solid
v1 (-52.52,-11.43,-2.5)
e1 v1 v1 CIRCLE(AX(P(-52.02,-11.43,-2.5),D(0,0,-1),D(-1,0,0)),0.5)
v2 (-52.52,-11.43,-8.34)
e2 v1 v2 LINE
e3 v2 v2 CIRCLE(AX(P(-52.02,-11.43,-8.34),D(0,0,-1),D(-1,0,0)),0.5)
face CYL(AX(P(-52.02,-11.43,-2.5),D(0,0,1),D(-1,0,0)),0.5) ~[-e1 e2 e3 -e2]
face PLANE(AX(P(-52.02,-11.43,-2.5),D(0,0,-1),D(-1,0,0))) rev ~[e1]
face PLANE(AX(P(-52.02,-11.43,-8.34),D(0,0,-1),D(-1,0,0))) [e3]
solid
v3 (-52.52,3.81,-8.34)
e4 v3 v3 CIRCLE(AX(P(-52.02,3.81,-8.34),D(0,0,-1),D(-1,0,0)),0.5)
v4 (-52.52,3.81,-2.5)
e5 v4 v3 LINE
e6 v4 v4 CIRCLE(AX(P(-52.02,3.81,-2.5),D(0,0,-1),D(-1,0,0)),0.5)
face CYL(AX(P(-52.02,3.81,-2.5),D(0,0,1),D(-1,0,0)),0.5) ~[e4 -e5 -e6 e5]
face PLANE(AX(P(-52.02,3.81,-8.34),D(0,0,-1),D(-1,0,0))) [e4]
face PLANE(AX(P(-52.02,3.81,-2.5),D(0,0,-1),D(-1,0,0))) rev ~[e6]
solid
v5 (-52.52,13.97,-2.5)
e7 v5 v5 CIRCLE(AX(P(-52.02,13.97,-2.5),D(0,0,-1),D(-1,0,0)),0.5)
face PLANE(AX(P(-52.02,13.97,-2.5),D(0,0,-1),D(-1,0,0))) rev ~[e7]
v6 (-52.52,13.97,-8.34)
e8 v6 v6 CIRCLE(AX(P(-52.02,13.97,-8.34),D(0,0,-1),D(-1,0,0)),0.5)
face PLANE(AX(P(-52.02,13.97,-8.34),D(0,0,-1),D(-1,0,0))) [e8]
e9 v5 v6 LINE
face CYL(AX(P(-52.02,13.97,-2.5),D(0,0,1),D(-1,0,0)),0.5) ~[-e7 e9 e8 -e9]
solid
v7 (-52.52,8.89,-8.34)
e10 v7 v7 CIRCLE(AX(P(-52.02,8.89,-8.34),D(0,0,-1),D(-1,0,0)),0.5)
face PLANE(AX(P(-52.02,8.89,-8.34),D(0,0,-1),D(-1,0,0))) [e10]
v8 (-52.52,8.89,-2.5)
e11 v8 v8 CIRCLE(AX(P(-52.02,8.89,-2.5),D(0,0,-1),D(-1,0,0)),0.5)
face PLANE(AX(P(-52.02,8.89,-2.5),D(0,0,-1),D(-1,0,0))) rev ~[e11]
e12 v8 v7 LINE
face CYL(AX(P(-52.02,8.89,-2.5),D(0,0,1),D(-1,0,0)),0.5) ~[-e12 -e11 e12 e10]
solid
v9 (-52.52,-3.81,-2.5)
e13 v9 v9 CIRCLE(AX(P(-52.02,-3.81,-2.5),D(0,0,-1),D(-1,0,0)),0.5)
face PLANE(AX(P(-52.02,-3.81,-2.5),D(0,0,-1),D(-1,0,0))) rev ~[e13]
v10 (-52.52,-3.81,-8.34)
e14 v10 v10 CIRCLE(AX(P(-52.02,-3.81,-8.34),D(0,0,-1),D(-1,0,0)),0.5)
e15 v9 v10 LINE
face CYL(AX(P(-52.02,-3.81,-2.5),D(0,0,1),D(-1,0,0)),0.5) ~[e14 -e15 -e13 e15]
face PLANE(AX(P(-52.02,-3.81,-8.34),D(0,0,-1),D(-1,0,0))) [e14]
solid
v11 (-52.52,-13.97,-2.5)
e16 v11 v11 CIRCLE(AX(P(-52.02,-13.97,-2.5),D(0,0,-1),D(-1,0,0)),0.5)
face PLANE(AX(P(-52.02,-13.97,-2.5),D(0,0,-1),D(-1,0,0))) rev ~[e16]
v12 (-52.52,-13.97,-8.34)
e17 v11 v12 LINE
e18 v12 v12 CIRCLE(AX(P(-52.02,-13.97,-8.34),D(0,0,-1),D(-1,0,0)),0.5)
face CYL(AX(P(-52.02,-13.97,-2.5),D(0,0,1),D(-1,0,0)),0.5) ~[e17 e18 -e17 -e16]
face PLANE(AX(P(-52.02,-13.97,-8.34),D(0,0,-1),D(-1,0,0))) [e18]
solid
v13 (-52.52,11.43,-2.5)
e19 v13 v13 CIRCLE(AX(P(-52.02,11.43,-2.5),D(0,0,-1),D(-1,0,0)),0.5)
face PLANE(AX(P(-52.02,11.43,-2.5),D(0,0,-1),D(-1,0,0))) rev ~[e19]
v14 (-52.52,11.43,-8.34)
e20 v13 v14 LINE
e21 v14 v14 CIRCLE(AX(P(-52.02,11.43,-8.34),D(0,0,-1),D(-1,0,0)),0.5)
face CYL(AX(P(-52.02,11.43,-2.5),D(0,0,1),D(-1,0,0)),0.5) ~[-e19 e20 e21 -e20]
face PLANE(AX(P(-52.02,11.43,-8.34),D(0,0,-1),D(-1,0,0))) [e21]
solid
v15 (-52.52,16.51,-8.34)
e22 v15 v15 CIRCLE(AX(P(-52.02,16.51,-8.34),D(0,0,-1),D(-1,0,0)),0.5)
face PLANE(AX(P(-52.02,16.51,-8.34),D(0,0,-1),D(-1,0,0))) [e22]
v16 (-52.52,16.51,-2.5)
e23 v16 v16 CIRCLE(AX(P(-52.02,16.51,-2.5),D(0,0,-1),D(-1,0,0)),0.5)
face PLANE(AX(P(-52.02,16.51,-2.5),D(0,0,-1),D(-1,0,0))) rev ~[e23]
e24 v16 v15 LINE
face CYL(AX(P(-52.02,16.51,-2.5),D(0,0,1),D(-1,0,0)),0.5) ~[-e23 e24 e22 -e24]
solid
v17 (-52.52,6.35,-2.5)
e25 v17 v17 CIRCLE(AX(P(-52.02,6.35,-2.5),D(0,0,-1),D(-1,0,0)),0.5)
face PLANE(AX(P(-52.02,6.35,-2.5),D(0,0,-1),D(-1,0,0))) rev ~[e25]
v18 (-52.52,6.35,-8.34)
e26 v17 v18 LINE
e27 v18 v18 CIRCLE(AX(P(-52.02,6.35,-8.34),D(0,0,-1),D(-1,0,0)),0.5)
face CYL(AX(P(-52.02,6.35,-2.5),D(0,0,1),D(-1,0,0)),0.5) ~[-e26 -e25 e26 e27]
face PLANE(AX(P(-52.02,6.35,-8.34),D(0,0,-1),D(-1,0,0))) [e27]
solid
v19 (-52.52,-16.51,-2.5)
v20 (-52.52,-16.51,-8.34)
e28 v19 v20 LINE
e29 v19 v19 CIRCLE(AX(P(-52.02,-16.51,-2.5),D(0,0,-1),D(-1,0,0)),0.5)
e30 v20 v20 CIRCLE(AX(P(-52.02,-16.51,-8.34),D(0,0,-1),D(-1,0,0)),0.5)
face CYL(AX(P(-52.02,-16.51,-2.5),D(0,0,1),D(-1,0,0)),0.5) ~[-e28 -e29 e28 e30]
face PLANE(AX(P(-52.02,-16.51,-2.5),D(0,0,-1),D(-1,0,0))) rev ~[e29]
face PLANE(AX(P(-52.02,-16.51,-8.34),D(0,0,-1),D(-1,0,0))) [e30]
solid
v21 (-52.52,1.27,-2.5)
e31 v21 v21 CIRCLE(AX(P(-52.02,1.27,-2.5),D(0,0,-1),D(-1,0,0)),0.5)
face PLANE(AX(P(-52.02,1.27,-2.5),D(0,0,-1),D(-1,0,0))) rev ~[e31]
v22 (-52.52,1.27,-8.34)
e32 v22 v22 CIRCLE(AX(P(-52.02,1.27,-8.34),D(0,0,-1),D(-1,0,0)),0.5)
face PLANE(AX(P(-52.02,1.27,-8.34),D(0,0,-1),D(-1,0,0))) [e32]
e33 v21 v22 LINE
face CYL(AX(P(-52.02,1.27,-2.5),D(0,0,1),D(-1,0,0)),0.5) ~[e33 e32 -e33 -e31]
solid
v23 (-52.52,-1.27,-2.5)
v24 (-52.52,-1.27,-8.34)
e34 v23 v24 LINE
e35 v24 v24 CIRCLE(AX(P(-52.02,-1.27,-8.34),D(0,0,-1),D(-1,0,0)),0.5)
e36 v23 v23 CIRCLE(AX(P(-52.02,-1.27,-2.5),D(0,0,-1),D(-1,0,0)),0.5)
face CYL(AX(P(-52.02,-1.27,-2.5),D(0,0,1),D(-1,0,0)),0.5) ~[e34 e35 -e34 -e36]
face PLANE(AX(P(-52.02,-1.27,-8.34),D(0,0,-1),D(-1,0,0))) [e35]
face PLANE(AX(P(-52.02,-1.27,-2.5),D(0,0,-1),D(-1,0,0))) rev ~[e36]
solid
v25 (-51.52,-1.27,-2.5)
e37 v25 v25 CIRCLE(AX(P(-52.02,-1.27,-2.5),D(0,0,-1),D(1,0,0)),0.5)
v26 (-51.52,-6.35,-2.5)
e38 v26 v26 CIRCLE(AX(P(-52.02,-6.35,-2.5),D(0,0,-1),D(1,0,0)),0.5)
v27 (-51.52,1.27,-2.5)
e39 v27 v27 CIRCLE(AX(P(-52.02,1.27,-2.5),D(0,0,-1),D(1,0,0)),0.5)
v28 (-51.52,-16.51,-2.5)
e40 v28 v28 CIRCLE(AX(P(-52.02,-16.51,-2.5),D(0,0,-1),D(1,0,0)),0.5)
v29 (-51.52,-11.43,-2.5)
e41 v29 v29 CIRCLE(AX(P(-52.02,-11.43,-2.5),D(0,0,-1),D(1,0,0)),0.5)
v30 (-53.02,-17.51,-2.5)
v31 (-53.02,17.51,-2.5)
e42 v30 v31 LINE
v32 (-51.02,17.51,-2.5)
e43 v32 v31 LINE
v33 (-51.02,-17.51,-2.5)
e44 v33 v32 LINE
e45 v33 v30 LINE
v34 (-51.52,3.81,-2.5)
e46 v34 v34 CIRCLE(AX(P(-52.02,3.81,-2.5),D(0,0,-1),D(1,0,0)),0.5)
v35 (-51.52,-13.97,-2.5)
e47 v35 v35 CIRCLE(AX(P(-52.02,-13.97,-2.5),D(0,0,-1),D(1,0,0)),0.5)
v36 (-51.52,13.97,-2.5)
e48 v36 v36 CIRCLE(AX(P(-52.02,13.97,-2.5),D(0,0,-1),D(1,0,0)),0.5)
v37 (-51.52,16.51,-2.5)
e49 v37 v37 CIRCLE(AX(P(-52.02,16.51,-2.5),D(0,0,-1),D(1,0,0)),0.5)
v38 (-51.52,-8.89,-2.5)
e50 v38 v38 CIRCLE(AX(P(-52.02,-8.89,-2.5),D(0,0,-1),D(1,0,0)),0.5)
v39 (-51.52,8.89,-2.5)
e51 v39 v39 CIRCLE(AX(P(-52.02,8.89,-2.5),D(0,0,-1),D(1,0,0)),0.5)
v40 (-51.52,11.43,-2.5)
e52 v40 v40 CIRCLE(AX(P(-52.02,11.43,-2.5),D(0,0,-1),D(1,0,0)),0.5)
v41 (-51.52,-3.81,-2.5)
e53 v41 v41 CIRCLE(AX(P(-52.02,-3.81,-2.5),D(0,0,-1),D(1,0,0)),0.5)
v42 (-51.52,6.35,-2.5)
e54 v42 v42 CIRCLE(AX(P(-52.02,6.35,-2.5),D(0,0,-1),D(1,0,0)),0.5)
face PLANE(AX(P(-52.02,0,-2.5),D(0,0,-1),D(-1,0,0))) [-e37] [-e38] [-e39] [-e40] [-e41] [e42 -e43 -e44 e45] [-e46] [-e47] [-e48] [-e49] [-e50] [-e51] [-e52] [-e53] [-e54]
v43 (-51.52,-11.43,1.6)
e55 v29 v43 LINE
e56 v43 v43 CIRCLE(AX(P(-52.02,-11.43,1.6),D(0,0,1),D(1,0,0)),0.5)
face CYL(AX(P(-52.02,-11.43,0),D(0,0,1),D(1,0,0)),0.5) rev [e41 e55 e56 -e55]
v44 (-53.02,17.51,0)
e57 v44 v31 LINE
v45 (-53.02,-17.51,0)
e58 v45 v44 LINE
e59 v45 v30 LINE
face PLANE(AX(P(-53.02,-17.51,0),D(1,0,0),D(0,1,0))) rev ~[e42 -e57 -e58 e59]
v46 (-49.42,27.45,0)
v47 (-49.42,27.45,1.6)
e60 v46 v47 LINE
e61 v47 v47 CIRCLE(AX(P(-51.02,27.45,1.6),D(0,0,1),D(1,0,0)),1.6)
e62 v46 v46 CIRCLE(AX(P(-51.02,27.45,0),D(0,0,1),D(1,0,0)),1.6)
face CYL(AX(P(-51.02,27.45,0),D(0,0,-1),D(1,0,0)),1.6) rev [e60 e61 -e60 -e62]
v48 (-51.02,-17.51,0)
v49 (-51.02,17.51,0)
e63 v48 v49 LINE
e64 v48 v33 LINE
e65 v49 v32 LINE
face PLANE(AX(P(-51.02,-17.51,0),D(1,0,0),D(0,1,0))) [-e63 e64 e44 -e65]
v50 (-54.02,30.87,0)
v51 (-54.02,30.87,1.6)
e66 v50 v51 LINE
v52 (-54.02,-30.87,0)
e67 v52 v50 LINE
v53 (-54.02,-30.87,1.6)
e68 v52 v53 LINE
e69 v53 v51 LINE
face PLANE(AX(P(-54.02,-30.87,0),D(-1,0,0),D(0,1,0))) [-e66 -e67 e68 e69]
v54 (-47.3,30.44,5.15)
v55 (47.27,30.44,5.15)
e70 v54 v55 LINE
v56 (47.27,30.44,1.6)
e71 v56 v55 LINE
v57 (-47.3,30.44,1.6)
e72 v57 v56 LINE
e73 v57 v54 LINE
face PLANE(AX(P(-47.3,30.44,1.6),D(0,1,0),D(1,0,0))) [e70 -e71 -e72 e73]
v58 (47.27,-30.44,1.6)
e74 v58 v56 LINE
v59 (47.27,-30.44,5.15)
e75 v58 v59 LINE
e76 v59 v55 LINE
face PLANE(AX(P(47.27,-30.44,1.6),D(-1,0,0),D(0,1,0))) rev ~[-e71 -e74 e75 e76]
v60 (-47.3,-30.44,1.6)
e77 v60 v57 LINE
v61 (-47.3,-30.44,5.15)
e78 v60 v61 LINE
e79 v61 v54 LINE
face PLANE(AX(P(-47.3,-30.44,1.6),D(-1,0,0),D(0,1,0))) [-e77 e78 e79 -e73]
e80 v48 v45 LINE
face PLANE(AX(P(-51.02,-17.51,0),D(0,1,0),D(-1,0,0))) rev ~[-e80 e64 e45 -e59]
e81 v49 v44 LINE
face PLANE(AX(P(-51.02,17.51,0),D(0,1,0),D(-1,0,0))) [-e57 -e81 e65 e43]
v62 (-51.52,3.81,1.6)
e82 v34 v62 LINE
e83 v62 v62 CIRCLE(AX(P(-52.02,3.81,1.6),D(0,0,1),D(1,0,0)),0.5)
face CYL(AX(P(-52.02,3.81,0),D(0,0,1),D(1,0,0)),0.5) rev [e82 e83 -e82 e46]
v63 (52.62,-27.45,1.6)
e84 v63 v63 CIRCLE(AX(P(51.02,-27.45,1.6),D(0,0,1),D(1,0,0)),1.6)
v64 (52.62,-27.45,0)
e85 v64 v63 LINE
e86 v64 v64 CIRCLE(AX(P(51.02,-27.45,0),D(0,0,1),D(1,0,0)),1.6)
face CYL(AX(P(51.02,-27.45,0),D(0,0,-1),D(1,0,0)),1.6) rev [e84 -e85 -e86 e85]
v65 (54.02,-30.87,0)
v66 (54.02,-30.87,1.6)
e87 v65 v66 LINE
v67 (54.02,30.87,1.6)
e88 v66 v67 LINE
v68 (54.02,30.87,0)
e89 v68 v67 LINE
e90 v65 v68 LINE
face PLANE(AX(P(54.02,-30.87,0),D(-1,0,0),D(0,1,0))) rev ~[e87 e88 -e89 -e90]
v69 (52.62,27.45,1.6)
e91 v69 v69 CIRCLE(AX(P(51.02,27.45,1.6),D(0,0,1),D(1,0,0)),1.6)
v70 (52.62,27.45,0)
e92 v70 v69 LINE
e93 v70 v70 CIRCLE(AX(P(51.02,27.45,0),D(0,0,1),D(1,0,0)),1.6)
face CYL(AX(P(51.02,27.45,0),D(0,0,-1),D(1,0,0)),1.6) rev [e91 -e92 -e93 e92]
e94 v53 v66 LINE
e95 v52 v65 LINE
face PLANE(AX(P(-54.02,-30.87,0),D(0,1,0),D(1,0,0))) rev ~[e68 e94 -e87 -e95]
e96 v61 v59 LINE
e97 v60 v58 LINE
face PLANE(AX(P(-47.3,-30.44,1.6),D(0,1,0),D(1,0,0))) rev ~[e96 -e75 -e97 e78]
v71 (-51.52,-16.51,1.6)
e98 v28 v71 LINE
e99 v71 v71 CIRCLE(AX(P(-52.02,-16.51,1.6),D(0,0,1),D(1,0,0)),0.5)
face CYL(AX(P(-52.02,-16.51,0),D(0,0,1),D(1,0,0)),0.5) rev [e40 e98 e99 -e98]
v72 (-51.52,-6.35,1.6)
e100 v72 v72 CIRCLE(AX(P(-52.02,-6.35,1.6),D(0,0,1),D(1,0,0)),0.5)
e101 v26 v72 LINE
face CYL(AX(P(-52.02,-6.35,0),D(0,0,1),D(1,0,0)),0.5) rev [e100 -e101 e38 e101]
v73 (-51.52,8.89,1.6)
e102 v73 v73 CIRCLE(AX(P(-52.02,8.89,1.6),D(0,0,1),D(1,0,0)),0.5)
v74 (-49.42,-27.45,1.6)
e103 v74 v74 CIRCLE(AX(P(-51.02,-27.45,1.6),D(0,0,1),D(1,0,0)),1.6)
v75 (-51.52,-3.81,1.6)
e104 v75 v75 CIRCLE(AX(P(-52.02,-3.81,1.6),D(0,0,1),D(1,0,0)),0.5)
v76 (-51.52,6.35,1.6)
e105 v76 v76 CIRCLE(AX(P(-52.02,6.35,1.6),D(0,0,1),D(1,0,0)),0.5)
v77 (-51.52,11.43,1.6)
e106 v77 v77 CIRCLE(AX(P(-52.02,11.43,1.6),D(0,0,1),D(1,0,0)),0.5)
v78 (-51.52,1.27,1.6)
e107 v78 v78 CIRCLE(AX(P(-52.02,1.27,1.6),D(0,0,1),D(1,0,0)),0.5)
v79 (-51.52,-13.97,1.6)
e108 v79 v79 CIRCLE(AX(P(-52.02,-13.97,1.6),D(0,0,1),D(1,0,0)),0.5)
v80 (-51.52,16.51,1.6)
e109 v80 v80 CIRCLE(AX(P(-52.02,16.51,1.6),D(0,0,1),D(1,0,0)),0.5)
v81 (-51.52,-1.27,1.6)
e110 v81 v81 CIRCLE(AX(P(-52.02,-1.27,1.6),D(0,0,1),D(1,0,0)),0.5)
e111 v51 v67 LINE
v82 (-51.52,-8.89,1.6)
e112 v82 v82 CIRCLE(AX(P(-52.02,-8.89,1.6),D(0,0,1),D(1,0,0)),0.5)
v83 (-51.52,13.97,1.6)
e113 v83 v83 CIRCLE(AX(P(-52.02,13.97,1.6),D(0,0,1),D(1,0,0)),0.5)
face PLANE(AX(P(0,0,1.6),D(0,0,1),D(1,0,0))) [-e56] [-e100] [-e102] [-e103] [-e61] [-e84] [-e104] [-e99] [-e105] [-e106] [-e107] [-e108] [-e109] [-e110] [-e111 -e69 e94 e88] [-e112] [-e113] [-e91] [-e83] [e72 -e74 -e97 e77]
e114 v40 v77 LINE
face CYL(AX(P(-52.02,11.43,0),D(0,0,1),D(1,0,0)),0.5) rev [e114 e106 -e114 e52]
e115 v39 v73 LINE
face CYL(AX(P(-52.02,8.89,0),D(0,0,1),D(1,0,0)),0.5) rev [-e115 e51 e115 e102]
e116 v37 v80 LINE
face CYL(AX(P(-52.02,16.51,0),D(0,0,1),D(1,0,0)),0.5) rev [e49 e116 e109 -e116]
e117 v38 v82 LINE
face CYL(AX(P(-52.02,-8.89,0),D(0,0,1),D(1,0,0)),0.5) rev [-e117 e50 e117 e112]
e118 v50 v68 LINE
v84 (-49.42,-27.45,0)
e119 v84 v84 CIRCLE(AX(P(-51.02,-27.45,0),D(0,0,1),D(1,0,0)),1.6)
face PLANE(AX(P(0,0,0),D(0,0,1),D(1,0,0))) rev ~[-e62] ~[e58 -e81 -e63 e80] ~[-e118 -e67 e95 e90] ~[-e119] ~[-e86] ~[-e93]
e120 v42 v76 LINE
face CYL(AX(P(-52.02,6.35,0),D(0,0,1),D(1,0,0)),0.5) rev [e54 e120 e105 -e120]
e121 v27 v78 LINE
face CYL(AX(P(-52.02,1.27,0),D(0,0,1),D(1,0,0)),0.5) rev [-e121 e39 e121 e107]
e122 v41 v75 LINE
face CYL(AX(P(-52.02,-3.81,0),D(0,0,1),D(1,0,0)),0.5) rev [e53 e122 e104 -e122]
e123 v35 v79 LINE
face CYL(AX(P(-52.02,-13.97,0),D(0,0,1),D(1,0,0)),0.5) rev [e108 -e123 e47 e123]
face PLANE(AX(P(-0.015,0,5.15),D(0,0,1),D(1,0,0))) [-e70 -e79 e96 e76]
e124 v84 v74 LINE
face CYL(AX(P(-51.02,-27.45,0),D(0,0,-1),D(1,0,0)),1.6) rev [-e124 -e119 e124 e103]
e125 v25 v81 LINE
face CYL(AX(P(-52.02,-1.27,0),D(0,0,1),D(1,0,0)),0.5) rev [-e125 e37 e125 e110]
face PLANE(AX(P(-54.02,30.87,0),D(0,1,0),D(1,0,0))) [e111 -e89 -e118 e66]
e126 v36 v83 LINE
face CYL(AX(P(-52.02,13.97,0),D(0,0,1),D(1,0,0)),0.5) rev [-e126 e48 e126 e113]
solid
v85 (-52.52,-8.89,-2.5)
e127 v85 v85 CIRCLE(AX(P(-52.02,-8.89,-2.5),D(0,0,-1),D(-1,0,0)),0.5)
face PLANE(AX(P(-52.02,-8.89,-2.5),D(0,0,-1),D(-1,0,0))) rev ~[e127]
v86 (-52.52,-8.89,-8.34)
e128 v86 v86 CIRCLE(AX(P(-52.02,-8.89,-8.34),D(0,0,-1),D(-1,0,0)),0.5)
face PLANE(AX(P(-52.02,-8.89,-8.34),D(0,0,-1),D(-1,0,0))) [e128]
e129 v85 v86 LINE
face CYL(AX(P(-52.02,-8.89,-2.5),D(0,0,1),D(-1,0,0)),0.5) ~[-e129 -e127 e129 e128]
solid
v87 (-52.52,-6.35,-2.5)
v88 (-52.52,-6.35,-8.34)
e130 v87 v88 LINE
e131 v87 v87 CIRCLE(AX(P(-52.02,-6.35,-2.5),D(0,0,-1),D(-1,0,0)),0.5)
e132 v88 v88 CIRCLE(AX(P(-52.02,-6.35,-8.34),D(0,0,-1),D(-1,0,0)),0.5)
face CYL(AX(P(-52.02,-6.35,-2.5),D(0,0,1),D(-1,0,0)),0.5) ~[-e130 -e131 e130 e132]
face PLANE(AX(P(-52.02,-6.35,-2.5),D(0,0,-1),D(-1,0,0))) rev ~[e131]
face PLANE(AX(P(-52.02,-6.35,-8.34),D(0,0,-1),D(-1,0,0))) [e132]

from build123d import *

# Parameters (mm, degrees)
SKETCH1_W              = 108.04
SKETCH1_H              = 61.74
SKETCH1_R              = 1.6
BOSS_EXTRUDE1_DEPTH    = 1.6
SKETCH2_W              = 94.57
SKETCH2_H              = 60.88
BOSS_EXTRUDE2_DEPTH    = 3.55
SKETCH3_R              = 0.5
CUT_EXTRUDE1_DEPTH     = 3.55
SKETCH4_W              = 2
SKETCH4_H              = 35.02
SKETCH4_R              = 0.5
BOSS_EXTRUDE3_DEPTH    = 2.5
SKETCH5_R              = 0.5
BOSS_EXTRUDE4_DEPTH    = 5.84
BOSS_EXTRUDE4_2_DEPTH  = 5.84
BOSS_EXTRUDE4_3_DEPTH  = 5.84
BOSS_EXTRUDE4_4_DEPTH  = 5.84
BOSS_EXTRUDE4_5_DEPTH  = 5.84
BOSS_EXTRUDE4_6_DEPTH  = 5.84
BOSS_EXTRUDE4_7_DEPTH  = 5.84
BOSS_EXTRUDE4_8_DEPTH  = 5.84
BOSS_EXTRUDE4_9_DEPTH  = 5.84
BOSS_EXTRUDE4_10_DEPTH = 5.84
BOSS_EXTRUDE4_11_DEPTH = 5.84
BOSS_EXTRUDE4_12_DEPTH = 5.84
BOSS_EXTRUDE4_13_DEPTH = 5.84
BOSS_EXTRUDE4_14_DEPTH = 5.84


with BuildPart() as part:
    # Sketch1 → Boss-Extrude1 (new body)
    with BuildSketch(Plane.XY):
        Rectangle(SKETCH1_W, SKETCH1_H)
        with Locations((-51.02, 27.45)):
            Circle(SKETCH1_R, mode=Mode.SUBTRACT)
        with Locations((-51.02, -27.45)):
            Circle(SKETCH1_R, mode=Mode.SUBTRACT)
        with Locations((51.02, -27.45)):
            Circle(SKETCH1_R, mode=Mode.SUBTRACT)
        with Locations((51.02, 27.45)):
            Circle(SKETCH1_R, mode=Mode.SUBTRACT)
    extrude(amount=BOSS_EXTRUDE1_DEPTH)

    # Sketch2 → Boss-Extrude2 (add)
    with BuildSketch(Plane.XY.offset(1.6)):
        with Locations((-0.015, 0)):
            Rectangle(SKETCH2_W, SKETCH2_H)
    extrude(amount=BOSS_EXTRUDE2_DEPTH)

    # Sketch3 → Cut-Extrude1 (cut)
    with BuildSketch(Plane.XY.offset(1.6)):
        with Locations((-52.02, 16.51)):
            Circle(SKETCH3_R)
        with Locations((-52.02, 13.97)):
            Circle(SKETCH3_R)
        with Locations((-52.02, 11.43)):
            Circle(SKETCH3_R)
        with Locations((-52.02, 8.89)):
            Circle(SKETCH3_R)
        with Locations((-52.02, 6.35)):
            Circle(SKETCH3_R)
        with Locations((-52.02, 3.81)):
            Circle(SKETCH3_R)
        with Locations((-52.02, 1.27)):
            Circle(SKETCH3_R)
        with Locations((-52.02, -1.27)):
            Circle(SKETCH3_R)
        with Locations((-52.02, -3.81)):
            Circle(SKETCH3_R)
        with Locations((-52.02, -6.35)):
            Circle(SKETCH3_R)
        with Locations((-52.02, -8.89)):
            Circle(SKETCH3_R)
        with Locations((-52.02, -11.43)):
            Circle(SKETCH3_R)
        with Locations((-52.02, -13.97)):
            Circle(SKETCH3_R)
        with Locations((-52.02, -16.51)):
            Circle(SKETCH3_R)
    extrude(amount=-CUT_EXTRUDE1_DEPTH, mode=Mode.SUBTRACT)

    # Sketch4 → Boss-Extrude3 (add)
    with BuildSketch(Plane(origin=(0, 0, 0), x_dir=(-1, 0, 0), z_dir=(0, 0, -1))):
        with Locations((52.02, 0)):
            Rectangle(SKETCH4_W, SKETCH4_H)
        with Locations(Location((52.02, 13.97, 0), (0, 0, 180))):
            Circle(SKETCH4_R, mode=Mode.SUBTRACT)
        with Locations(Location((52.02, 8.89, 0), (0, 0, 180))):
            Circle(SKETCH4_R, mode=Mode.SUBTRACT)
        with Locations(Location((52.02, 3.81, 0), (0, 0, 180))):
            Circle(SKETCH4_R, mode=Mode.SUBTRACT)
        with Locations(Location((52.02, -1.27, 0), (0, 0, 180))):
            Circle(SKETCH4_R, mode=Mode.SUBTRACT)
        with Locations(Location((52.02, -6.35, 0), (0, 0, 180))):
            Circle(SKETCH4_R, mode=Mode.SUBTRACT)
        with Locations(Location((52.02, -11.43, 0), (0, 0, 180))):
            Circle(SKETCH4_R, mode=Mode.SUBTRACT)
        with Locations(Location((52.02, -16.51, 0), (0, 0, 180))):
            Circle(SKETCH4_R, mode=Mode.SUBTRACT)
        with Locations(Location((52.02, -13.97, 0), (0, 0, 180))):
            Circle(SKETCH4_R, mode=Mode.SUBTRACT)
        with Locations(Location((52.02, -8.89, 0), (0, 0, 180))):
            Circle(SKETCH4_R, mode=Mode.SUBTRACT)
        with Locations(Location((52.02, -3.81, 0), (0, 0, 180))):
            Circle(SKETCH4_R, mode=Mode.SUBTRACT)
        with Locations(Location((52.02, 1.27, 0), (0, 0, 180))):
            Circle(SKETCH4_R, mode=Mode.SUBTRACT)
        with Locations(Location((52.02, 6.35, 0), (0, 0, 180))):
            Circle(SKETCH4_R, mode=Mode.SUBTRACT)
        with Locations(Location((52.02, 11.43, 0), (0, 0, 180))):
            Circle(SKETCH4_R, mode=Mode.SUBTRACT)
        with Locations(Location((52.02, 16.51, 0), (0, 0, 180))):
            Circle(SKETCH4_R, mode=Mode.SUBTRACT)
    extrude(amount=BOSS_EXTRUDE3_DEPTH)


with BuildPart() as body_2:
    # Sketch5 → Boss-Extrude4 (new body)
    with BuildSketch(Plane(origin=(0, 0, -2.5), x_dir=(-1, 0, 0), z_dir=(0, 0, -1))):
        with Locations((52.02, -16.51)):
            Circle(SKETCH5_R)
    extrude(amount=BOSS_EXTRUDE4_DEPTH)


with BuildPart() as body_3:
    # Sketch5 → Boss-Extrude4 2 (new body)
    with BuildSketch(Plane(origin=(0, 0, -2.5), x_dir=(-1, 0, 0), z_dir=(0, 0, -1))):
        with Locations((52.02, -13.97)):
            Circle(SKETCH5_R)
    extrude(amount=BOSS_EXTRUDE4_2_DEPTH)


with BuildPart() as body_4:
    # Sketch5 → Boss-Extrude4 3 (new body)
    with BuildSketch(Plane(origin=(0, 0, -2.5), x_dir=(-1, 0, 0), z_dir=(0, 0, -1))):
        with Locations((52.02, -11.43)):
            Circle(SKETCH5_R)
    extrude(amount=BOSS_EXTRUDE4_3_DEPTH)


with BuildPart() as body_5:
    # Sketch5 → Boss-Extrude4 4 (new body)
    with BuildSketch(Plane(origin=(0, 0, -2.5), x_dir=(-1, 0, 0), z_dir=(0, 0, -1))):
        with Locations((52.02, -8.89)):
            Circle(SKETCH5_R)
    extrude(amount=BOSS_EXTRUDE4_4_DEPTH)


with BuildPart() as body_6:
    # Sketch5 → Boss-Extrude4 5 (new body)
    with BuildSketch(Plane(origin=(0, 0, -2.5), x_dir=(-1, 0, 0), z_dir=(0, 0, -1))):
        with Locations((52.02, -6.35)):
            Circle(SKETCH5_R)
    extrude(amount=BOSS_EXTRUDE4_5_DEPTH)


with BuildPart() as body_7:
    # Sketch5 → Boss-Extrude4 6 (new body)
    with BuildSketch(Plane(origin=(0, 0, -2.5), x_dir=(-1, 0, 0), z_dir=(0, 0, -1))):
        with Locations((52.02, -3.81)):
            Circle(SKETCH5_R)
    extrude(amount=BOSS_EXTRUDE4_6_DEPTH)


with BuildPart() as body_8:
    # Sketch5 → Boss-Extrude4 7 (new body)
    with BuildSketch(Plane(origin=(0, 0, -2.5), x_dir=(-1, 0, 0), z_dir=(0, 0, -1))):
        with Locations((52.02, -1.27)):
            Circle(SKETCH5_R)
    extrude(amount=BOSS_EXTRUDE4_7_DEPTH)


with BuildPart() as body_9:
    # Sketch5 → Boss-Extrude4 8 (new body)
    with BuildSketch(Plane(origin=(0, 0, -2.5), x_dir=(-1, 0, 0), z_dir=(0, 0, -1))):
        with Locations((52.02, 1.27)):
            Circle(SKETCH5_R)
    extrude(amount=BOSS_EXTRUDE4_8_DEPTH)


with BuildPart() as body_10:
    # Sketch5 → Boss-Extrude4 9 (new body)
    with BuildSketch(Plane(origin=(0, 0, -2.5), x_dir=(-1, 0, 0), z_dir=(0, 0, -1))):
        with Locations((52.02, 3.81)):
            Circle(SKETCH5_R)
    extrude(amount=BOSS_EXTRUDE4_9_DEPTH)


with BuildPart() as body_11:
    # Sketch5 → Boss-Extrude4 10 (new body)
    with BuildSketch(Plane(origin=(0, 0, -2.5), x_dir=(-1, 0, 0), z_dir=(0, 0, -1))):
        with Locations((52.02, 6.35)):
            Circle(SKETCH5_R)
    extrude(amount=BOSS_EXTRUDE4_10_DEPTH)


with BuildPart() as body_12:
    # Sketch5 → Boss-Extrude4 11 (new body)
    with BuildSketch(Plane(origin=(0, 0, -2.5), x_dir=(-1, 0, 0), z_dir=(0, 0, -1))):
        with Locations((52.02, 8.89)):
            Circle(SKETCH5_R)
    extrude(amount=BOSS_EXTRUDE4_11_DEPTH)


with BuildPart() as body_13:
    # Sketch5 → Boss-Extrude4 12 (new body)
    with BuildSketch(Plane(origin=(0, 0, -2.5), x_dir=(-1, 0, 0), z_dir=(0, 0, -1))):
        with Locations((52.02, 11.43)):
            Circle(SKETCH5_R)
    extrude(amount=BOSS_EXTRUDE4_12_DEPTH)


with BuildPart() as body_14:
    # Sketch5 → Boss-Extrude4 13 (new body)
    with BuildSketch(Plane(origin=(0, 0, -2.5), x_dir=(-1, 0, 0), z_dir=(0, 0, -1))):
        with Locations((52.02, 13.97)):
            Circle(SKETCH5_R)
    extrude(amount=BOSS_EXTRUDE4_13_DEPTH)


with BuildPart() as body_15:
    # Sketch5 → Boss-Extrude4 14 (new body)
    with BuildSketch(Plane(origin=(0, 0, -2.5), x_dir=(-1, 0, 0), z_dir=(0, 0, -1))):
        with Locations((52.02, 16.51)):
            Circle(SKETCH5_R)
    extrude(amount=BOSS_EXTRUDE4_14_DEPTH)


solid = Compound([part.part, body_2.part, body_3.part, body_4.part, body_5.part, body_6.part, body_7.part, body_8.part, body_9.part, body_10.part, body_11.part, body_12.part, body_13.part, body_14.part, body_15.part])
